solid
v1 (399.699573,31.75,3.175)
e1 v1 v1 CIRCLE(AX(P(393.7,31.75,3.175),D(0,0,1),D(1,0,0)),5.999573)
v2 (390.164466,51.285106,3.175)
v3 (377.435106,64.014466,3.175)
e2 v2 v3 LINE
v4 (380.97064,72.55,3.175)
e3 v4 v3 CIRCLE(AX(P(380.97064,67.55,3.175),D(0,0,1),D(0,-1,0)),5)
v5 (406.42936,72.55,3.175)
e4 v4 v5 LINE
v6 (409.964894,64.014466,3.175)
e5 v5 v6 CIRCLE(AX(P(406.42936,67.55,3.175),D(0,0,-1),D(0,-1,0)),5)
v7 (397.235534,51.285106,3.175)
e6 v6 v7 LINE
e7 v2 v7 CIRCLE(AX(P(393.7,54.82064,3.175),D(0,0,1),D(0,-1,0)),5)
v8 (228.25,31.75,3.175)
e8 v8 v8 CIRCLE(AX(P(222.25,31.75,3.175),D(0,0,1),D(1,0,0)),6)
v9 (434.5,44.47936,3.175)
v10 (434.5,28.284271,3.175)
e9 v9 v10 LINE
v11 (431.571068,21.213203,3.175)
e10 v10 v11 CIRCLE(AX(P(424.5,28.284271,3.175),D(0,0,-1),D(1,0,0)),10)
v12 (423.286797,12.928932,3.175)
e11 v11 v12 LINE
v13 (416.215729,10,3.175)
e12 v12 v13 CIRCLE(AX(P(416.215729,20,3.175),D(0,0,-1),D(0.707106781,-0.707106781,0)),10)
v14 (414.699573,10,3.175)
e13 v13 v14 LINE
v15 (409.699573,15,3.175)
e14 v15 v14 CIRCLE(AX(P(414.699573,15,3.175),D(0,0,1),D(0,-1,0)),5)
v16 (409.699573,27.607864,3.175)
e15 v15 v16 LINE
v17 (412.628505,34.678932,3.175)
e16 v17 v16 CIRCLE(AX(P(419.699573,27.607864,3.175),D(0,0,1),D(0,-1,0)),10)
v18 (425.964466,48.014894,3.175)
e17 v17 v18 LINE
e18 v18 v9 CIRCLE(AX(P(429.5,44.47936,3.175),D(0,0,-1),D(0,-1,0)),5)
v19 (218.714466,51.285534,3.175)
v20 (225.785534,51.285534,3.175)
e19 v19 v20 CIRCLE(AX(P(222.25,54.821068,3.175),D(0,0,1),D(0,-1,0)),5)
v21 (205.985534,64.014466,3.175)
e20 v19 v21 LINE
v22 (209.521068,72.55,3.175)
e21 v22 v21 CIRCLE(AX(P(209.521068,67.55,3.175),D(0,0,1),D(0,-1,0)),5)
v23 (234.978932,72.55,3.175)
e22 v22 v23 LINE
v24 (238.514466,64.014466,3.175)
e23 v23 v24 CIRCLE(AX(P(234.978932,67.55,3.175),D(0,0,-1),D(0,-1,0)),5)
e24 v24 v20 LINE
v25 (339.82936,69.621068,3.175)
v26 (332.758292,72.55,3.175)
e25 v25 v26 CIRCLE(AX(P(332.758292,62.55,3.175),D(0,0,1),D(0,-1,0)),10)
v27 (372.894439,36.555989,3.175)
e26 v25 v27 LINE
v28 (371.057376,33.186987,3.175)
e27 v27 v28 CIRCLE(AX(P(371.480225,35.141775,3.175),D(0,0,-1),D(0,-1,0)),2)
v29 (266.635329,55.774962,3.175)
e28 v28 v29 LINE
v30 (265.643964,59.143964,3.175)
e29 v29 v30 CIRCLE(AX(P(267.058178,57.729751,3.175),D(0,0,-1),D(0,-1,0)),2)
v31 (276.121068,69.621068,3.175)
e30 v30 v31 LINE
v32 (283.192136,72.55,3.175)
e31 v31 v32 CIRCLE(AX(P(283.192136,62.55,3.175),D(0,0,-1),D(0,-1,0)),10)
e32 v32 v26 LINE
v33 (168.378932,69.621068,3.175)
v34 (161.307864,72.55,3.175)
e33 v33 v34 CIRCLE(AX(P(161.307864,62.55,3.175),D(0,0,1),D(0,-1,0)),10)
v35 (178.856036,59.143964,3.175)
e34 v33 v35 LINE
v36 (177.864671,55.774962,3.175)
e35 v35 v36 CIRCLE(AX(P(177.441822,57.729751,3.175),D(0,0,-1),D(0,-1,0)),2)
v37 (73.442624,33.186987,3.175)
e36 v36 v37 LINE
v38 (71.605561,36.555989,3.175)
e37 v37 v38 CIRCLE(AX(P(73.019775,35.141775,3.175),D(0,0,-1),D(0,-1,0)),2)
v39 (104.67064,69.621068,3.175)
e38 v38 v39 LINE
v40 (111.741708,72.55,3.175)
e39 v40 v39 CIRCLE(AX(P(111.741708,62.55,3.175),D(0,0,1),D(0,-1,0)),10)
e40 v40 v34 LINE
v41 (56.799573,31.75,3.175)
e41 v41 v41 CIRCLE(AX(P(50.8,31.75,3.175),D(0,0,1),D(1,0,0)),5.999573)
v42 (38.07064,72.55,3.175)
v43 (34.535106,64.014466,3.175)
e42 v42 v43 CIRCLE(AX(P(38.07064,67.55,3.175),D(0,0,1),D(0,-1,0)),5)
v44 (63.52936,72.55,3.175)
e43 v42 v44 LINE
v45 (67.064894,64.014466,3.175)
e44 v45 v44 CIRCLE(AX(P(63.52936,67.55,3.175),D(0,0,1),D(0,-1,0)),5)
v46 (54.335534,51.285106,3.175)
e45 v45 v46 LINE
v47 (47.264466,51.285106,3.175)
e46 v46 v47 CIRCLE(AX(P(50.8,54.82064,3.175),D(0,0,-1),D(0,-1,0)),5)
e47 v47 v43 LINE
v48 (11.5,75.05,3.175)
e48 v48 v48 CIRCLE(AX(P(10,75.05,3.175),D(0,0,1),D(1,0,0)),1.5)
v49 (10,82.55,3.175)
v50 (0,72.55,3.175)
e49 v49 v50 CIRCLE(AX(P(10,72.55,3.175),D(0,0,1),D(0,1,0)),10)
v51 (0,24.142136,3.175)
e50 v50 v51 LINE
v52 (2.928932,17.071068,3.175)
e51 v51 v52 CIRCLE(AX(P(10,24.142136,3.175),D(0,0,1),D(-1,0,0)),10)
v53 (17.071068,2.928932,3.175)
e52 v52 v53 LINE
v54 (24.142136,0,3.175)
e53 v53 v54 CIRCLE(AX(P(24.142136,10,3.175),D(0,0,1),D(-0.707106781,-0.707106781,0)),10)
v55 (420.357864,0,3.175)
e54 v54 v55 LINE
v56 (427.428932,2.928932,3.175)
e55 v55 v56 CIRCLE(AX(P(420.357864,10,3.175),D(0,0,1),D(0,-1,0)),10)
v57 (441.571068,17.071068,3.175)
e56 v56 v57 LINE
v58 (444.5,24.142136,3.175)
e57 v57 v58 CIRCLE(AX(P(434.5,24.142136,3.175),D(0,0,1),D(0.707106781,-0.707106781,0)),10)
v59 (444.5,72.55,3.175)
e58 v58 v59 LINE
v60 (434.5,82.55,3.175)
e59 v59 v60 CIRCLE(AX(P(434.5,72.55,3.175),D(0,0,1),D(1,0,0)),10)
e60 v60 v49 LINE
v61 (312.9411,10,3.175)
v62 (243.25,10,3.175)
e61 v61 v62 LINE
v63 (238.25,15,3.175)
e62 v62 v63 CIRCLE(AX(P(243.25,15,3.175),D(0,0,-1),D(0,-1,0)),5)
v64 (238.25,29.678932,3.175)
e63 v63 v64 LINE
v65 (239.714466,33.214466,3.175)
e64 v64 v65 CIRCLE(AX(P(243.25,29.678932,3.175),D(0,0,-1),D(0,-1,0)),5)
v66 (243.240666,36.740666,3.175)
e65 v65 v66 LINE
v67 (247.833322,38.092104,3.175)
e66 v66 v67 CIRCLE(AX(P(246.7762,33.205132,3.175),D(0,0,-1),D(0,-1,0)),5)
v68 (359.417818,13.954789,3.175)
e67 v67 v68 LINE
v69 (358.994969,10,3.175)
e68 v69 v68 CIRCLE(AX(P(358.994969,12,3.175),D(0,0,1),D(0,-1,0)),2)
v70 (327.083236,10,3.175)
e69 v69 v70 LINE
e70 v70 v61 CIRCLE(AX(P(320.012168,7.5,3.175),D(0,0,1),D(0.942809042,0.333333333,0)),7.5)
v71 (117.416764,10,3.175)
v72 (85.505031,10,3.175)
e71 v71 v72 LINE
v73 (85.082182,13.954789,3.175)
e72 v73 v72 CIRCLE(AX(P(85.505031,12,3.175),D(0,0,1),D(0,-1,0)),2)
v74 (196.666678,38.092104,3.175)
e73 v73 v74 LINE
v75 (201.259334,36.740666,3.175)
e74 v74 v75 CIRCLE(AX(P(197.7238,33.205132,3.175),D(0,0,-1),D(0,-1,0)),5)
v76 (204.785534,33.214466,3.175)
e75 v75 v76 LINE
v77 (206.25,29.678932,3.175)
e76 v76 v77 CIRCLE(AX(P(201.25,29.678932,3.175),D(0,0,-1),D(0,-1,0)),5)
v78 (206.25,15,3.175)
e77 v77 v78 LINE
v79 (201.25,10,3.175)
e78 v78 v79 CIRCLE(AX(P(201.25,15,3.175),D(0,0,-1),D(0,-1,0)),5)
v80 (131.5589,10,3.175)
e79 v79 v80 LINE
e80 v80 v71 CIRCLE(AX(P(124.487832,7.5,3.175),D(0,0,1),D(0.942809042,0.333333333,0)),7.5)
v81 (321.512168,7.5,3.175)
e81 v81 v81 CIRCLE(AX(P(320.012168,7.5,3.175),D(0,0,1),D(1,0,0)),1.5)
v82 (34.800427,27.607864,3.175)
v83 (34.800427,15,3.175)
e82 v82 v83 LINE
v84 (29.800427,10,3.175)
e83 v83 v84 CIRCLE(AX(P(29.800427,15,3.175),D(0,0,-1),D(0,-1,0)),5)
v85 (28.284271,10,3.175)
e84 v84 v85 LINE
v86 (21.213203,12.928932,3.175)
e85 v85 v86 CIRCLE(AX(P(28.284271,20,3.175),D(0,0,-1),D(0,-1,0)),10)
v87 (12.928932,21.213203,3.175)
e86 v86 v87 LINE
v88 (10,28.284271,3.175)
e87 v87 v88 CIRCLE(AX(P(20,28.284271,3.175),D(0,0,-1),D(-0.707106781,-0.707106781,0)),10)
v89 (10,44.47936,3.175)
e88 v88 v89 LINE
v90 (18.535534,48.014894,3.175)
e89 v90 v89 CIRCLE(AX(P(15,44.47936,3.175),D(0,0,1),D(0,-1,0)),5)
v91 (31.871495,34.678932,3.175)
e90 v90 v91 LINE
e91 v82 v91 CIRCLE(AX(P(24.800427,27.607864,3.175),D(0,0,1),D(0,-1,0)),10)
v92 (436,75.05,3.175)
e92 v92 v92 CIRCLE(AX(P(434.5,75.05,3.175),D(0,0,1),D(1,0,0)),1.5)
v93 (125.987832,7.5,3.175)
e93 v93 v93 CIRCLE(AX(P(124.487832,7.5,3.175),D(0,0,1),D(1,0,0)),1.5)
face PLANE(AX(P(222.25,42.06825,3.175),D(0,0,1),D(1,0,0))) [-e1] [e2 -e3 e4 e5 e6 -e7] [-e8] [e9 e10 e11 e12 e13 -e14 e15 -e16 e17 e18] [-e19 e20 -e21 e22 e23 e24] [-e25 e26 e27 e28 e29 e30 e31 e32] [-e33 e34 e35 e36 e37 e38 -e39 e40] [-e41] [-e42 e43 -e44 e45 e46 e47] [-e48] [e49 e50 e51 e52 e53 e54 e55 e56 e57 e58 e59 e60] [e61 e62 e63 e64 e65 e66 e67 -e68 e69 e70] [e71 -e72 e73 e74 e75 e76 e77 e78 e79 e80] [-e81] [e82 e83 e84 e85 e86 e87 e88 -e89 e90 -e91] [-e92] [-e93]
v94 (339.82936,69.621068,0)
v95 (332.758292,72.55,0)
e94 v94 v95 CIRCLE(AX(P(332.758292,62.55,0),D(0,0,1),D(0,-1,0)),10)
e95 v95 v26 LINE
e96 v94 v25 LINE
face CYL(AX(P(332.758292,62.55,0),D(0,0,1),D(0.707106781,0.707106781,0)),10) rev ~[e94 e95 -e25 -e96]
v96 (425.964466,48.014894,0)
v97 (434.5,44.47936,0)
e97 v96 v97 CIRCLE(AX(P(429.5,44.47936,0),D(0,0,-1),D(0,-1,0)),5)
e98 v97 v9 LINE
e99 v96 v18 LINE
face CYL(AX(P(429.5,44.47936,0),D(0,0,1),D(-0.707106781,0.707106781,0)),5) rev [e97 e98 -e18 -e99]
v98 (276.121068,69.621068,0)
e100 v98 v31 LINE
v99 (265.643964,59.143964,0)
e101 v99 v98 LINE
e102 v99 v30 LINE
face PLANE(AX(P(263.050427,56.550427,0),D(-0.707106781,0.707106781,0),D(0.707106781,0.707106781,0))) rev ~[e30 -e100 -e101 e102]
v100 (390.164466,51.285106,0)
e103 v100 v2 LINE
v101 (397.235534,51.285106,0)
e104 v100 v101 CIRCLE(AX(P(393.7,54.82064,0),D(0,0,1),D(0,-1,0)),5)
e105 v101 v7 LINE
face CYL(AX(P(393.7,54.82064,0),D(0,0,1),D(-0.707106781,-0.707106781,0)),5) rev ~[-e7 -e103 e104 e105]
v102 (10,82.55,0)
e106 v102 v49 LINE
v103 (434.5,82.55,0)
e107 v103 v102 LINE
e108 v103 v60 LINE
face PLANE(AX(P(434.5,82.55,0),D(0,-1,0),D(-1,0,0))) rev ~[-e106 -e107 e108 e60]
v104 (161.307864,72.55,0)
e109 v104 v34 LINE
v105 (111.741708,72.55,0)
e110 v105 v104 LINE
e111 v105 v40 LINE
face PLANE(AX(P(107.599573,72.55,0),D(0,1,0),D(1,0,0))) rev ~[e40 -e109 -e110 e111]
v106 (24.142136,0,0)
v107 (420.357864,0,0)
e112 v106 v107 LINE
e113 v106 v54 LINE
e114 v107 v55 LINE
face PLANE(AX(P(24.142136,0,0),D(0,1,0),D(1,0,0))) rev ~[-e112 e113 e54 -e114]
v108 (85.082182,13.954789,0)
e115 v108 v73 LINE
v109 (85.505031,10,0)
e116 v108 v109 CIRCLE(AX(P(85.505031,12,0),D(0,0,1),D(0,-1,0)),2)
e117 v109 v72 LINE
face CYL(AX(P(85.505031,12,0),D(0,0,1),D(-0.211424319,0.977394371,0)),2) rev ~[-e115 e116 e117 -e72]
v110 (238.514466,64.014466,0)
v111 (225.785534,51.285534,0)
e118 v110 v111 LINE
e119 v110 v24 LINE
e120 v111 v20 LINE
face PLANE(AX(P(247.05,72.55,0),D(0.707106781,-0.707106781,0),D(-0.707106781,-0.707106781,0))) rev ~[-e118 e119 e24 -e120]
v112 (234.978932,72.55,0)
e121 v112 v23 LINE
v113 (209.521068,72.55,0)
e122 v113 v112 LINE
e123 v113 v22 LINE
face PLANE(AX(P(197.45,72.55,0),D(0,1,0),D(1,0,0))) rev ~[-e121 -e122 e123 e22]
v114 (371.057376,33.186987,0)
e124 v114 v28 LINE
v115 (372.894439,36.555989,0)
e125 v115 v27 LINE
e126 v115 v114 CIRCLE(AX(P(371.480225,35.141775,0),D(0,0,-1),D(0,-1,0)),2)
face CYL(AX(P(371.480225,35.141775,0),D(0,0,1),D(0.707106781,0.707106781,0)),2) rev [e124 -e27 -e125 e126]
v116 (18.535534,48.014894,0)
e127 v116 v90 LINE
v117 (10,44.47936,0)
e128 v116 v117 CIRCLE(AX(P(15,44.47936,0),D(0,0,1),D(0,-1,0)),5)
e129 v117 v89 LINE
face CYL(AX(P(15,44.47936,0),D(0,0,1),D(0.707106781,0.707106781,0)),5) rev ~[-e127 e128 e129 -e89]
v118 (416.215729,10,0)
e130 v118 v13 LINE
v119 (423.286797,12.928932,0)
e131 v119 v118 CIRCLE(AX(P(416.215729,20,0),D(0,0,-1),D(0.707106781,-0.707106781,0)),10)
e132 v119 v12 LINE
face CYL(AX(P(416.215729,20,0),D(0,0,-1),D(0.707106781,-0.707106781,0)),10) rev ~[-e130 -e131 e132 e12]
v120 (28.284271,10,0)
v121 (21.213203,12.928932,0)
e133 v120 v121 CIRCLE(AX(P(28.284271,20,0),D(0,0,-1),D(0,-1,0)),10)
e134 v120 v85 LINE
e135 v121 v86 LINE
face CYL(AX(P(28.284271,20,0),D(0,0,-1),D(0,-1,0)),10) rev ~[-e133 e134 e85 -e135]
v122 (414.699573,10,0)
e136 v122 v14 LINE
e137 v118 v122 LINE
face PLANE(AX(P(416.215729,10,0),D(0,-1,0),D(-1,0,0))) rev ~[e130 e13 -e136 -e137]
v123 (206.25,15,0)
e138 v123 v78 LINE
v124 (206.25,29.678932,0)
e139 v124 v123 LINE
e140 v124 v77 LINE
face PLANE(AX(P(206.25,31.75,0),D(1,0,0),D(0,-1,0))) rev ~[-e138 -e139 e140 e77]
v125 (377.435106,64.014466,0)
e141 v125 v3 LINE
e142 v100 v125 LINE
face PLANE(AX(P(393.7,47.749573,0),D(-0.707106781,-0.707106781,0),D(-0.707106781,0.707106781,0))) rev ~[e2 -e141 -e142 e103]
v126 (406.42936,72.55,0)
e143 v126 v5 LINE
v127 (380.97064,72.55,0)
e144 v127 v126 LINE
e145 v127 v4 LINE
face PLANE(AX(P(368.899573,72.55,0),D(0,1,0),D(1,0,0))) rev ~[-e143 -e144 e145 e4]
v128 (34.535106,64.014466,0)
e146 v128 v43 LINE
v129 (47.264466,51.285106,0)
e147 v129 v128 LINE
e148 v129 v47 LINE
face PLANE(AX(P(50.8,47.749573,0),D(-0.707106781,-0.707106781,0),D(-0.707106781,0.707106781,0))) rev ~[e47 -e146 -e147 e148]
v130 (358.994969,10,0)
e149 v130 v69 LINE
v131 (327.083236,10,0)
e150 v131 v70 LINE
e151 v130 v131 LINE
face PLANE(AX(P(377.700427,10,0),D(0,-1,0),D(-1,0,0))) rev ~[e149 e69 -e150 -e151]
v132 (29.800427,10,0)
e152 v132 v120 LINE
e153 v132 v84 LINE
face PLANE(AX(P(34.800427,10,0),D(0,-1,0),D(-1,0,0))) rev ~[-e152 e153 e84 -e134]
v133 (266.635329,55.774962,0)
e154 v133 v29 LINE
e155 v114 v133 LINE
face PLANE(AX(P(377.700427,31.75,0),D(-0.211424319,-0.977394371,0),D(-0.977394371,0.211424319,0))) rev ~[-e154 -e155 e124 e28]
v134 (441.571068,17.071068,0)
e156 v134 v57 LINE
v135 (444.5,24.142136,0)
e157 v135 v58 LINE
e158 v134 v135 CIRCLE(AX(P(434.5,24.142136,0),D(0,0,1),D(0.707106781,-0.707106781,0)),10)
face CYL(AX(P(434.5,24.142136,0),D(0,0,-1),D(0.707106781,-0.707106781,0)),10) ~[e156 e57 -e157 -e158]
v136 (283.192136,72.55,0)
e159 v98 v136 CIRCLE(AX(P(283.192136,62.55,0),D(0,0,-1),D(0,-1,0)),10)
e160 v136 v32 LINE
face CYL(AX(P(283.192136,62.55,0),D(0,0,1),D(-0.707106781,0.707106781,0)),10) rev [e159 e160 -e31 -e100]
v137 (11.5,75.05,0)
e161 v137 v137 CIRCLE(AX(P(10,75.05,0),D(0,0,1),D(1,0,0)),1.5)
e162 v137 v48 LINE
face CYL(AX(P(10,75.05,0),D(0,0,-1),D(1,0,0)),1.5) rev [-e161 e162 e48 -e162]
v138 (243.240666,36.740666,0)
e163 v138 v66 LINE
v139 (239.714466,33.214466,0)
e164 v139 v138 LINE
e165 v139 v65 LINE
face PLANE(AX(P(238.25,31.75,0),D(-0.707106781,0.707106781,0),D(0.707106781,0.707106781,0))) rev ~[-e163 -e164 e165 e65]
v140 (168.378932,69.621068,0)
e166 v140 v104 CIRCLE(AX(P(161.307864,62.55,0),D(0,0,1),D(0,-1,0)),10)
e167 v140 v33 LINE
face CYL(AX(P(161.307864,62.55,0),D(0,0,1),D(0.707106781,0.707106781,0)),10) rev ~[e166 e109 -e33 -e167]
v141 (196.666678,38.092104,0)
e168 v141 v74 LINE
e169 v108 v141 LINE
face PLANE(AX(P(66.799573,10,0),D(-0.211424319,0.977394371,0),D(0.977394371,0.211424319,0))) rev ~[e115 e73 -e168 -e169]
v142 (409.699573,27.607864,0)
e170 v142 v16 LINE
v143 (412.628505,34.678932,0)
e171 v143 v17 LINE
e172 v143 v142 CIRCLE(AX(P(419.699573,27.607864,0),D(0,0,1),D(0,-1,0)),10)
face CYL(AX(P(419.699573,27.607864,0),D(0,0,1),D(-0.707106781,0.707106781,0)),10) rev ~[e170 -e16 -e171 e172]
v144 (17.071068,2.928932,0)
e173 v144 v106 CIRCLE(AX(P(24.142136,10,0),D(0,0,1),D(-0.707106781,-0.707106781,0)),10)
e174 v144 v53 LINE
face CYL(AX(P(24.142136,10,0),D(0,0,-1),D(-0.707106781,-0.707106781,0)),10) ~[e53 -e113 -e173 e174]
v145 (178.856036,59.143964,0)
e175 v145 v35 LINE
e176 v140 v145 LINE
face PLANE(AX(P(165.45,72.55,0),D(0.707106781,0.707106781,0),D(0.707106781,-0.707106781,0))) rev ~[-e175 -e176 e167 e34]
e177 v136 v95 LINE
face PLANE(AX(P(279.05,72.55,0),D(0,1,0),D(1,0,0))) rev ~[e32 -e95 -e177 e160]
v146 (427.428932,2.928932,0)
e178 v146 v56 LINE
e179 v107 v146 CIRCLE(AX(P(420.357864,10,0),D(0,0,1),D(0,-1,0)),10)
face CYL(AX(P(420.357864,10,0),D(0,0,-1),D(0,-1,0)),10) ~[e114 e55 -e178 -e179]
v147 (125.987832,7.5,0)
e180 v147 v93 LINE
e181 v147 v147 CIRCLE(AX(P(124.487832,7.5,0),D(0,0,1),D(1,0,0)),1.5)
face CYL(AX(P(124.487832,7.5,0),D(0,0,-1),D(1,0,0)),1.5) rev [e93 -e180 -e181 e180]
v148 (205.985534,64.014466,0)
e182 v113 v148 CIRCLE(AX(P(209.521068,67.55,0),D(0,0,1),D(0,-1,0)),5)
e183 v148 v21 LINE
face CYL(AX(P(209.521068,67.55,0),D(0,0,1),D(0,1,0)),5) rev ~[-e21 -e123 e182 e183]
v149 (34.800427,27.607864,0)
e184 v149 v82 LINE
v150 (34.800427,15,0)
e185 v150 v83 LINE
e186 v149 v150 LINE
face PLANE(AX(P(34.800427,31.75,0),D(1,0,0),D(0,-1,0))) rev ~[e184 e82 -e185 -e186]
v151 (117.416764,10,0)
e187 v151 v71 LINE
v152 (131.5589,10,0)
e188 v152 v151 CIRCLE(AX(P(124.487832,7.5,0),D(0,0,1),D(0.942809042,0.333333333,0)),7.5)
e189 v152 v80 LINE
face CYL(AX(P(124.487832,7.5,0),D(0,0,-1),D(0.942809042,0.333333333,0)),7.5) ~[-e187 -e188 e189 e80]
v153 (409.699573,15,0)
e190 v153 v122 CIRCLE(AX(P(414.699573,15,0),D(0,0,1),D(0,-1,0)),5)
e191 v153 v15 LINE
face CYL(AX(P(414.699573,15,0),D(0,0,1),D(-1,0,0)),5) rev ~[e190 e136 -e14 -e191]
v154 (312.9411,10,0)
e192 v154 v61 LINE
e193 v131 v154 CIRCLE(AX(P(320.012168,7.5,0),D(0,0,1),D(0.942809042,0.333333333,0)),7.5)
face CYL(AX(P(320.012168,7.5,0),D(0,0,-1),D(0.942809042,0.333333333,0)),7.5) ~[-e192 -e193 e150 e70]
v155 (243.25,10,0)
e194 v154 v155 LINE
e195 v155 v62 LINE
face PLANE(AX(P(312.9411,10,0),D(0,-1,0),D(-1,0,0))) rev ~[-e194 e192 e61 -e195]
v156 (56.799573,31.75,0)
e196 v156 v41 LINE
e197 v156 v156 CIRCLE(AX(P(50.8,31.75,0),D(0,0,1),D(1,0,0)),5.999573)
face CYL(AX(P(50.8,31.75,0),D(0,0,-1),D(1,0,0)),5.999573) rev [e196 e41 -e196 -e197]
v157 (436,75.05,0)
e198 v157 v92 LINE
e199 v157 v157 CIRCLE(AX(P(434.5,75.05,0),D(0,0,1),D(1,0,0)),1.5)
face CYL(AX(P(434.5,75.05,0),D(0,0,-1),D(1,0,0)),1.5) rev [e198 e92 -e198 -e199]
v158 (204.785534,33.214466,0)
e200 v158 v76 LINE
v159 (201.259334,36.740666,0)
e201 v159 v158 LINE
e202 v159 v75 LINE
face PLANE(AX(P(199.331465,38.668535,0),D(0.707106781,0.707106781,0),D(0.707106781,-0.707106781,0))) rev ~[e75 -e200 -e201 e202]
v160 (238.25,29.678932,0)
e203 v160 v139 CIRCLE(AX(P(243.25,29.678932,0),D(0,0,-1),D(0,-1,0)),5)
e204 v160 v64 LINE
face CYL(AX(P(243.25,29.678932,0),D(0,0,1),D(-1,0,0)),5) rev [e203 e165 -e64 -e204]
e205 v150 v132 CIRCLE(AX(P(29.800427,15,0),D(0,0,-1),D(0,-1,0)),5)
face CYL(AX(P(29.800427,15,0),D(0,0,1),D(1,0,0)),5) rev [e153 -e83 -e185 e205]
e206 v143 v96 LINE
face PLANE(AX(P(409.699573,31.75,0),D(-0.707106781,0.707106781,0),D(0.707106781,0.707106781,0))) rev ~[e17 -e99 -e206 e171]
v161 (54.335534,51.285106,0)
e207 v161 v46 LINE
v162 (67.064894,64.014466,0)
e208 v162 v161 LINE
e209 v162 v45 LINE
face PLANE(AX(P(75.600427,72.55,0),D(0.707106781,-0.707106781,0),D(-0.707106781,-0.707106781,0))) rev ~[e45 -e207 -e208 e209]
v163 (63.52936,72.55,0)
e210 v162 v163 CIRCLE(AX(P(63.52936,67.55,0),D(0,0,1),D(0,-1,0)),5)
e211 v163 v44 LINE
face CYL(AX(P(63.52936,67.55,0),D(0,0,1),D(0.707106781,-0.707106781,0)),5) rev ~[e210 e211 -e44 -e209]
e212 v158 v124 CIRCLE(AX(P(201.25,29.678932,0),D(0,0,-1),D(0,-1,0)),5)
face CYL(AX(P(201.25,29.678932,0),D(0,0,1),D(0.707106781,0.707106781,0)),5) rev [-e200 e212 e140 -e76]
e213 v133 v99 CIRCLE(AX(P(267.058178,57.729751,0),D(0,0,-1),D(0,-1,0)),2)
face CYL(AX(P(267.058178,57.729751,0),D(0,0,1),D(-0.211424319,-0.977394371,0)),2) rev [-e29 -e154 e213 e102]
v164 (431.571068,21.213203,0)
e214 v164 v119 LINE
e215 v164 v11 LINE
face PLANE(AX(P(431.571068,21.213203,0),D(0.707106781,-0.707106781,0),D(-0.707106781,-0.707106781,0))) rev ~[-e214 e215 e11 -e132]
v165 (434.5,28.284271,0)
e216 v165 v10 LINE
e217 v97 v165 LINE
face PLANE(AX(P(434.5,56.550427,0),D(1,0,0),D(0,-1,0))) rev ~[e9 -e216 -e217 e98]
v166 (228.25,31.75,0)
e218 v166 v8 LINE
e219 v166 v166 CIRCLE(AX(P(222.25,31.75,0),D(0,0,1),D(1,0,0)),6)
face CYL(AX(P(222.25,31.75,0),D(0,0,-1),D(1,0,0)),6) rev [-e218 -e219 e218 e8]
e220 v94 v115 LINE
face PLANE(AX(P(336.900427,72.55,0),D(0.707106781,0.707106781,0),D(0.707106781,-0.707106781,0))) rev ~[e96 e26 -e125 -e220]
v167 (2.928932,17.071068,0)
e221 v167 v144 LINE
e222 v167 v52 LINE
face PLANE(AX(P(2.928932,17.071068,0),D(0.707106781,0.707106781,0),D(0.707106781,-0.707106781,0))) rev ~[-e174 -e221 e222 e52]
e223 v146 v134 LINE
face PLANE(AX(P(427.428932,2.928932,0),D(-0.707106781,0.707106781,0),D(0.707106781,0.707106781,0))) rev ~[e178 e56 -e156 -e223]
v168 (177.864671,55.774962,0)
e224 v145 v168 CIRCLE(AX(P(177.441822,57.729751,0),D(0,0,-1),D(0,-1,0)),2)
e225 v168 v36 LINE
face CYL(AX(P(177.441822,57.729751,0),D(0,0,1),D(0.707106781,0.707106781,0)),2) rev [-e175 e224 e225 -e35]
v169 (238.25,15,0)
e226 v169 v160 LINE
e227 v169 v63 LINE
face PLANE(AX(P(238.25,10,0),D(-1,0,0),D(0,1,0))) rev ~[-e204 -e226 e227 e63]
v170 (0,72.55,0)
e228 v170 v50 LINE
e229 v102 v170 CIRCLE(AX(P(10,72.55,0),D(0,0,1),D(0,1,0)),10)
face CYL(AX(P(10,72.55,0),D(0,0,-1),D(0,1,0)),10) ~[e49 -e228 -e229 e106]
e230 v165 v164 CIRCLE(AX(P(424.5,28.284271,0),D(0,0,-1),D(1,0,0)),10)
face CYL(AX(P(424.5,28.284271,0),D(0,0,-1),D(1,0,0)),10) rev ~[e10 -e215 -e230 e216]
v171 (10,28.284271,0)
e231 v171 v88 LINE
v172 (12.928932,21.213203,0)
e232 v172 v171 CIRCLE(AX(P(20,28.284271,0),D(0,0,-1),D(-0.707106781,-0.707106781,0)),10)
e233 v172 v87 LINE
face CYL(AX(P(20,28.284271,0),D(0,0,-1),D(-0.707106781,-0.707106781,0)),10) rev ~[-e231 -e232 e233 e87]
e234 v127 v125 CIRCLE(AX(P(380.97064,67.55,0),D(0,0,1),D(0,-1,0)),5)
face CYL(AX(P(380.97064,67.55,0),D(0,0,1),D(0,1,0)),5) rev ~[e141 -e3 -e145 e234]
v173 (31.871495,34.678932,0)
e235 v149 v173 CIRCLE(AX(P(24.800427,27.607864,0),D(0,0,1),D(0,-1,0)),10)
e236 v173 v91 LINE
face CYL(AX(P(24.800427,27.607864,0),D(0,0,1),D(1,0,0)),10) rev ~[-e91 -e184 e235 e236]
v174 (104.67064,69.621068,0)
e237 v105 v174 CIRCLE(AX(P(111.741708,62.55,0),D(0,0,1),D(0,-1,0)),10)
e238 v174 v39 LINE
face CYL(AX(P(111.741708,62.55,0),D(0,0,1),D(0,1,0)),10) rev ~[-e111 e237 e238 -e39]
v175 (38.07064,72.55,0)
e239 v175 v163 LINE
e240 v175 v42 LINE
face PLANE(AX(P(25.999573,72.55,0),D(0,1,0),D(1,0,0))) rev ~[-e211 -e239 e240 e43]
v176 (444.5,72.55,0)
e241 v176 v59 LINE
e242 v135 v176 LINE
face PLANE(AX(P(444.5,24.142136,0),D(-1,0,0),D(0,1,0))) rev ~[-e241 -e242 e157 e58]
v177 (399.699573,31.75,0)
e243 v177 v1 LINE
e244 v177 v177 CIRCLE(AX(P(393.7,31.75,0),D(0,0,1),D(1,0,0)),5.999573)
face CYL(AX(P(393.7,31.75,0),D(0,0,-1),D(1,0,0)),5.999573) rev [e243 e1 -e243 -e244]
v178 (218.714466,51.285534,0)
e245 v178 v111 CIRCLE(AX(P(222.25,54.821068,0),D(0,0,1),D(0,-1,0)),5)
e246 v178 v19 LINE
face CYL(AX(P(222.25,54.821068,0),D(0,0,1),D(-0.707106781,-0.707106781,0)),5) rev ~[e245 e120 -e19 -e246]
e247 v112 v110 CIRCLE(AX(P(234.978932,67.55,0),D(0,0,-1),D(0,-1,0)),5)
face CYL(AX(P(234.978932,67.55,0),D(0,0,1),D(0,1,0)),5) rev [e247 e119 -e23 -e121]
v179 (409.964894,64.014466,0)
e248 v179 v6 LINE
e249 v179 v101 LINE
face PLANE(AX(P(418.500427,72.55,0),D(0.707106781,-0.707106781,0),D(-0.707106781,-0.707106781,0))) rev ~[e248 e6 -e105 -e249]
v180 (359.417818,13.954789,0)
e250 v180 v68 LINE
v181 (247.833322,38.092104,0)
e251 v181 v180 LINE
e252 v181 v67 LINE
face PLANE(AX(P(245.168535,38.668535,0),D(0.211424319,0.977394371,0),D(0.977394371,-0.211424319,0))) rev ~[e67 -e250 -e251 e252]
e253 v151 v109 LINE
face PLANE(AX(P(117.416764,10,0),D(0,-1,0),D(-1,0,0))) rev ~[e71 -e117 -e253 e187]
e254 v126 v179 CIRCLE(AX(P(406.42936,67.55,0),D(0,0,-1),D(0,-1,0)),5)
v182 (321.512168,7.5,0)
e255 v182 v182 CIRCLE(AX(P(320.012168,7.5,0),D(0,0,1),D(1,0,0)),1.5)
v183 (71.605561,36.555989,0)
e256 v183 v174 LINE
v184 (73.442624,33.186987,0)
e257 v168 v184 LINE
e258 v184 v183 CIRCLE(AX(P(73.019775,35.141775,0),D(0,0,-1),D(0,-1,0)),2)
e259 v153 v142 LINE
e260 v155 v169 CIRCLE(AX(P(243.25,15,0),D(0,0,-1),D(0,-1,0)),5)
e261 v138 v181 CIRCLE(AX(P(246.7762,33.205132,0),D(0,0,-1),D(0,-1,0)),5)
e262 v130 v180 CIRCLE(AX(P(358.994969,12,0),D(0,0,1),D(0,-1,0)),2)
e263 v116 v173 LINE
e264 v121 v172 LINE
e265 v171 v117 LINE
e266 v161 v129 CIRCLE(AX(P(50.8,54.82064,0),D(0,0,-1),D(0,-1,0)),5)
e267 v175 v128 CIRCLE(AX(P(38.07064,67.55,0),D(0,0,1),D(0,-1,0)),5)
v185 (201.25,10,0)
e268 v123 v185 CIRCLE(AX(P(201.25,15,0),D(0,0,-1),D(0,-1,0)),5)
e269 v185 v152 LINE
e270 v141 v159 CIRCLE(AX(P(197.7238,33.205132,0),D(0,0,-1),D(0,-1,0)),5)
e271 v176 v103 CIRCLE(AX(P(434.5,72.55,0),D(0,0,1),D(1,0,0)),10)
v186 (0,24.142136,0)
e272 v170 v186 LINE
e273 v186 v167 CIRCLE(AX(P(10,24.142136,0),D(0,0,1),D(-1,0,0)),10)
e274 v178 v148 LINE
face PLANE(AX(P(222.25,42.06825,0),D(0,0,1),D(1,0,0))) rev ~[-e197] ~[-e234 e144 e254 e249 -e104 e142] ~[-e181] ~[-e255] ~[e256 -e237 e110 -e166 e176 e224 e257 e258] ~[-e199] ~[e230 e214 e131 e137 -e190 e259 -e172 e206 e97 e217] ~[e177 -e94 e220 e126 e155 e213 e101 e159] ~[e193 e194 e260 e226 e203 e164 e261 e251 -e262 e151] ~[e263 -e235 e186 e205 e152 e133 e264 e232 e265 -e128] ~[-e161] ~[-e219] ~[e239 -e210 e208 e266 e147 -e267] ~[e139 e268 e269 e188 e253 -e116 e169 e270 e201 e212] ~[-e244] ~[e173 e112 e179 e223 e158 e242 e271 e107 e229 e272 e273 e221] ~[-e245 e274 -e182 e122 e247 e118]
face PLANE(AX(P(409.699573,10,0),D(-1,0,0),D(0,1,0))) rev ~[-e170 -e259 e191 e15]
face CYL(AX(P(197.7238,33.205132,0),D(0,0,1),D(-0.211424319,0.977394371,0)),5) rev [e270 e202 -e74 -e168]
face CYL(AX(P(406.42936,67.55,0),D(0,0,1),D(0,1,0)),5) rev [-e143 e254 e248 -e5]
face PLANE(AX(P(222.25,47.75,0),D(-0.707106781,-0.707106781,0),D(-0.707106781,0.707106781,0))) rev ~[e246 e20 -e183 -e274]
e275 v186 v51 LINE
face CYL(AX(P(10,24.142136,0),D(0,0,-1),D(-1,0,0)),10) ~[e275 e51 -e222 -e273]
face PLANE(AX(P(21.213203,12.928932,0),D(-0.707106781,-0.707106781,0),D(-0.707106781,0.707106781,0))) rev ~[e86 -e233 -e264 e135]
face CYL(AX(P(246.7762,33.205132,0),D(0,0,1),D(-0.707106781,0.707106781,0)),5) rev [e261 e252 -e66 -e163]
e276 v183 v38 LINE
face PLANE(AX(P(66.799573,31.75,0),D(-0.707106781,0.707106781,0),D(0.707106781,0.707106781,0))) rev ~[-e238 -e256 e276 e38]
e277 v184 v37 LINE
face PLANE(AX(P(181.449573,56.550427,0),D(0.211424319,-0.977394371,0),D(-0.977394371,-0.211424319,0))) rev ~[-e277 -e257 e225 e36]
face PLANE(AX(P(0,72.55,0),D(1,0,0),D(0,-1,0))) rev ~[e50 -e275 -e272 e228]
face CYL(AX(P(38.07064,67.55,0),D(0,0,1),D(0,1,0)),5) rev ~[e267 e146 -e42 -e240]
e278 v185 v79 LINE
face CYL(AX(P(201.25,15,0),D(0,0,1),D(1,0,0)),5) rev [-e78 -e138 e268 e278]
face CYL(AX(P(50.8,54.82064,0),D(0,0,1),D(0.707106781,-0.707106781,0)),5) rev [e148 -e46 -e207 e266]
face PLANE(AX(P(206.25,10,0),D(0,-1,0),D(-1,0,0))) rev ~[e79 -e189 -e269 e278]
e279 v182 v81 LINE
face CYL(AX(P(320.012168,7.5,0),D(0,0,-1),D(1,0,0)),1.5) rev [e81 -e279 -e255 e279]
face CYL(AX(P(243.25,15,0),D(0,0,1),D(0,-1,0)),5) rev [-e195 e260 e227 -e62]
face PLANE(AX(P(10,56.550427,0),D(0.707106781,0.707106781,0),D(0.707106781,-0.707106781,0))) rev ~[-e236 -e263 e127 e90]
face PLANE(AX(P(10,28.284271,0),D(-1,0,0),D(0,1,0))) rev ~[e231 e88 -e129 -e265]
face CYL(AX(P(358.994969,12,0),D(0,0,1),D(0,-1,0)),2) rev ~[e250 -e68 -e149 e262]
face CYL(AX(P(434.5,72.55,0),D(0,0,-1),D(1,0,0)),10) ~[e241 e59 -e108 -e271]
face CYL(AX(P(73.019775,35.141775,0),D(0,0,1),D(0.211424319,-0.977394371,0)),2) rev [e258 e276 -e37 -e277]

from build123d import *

# Parameters (mm, degrees)
SKETCH1_R           = 1.5
SKETCH1_R_2         = 5.999572562
SKETCH1_R_3         = 6
BOSS_EXTRUDE1_DEPTH = 3.175
FILLET1_R           = 10
FILLET2_R           = 5
FILLET3_R           = 5
FILLET4_R           = 5
FILLET5_R           = 2


with BuildPart() as part:
    # Sketch1 → Boss-Extrude1 (new body)
    with BuildSketch(Plane.XY):
        with BuildLine():
            ThreePointArc((0, 24.142135624), (0.761204675, 20.3153013), (2.928932188, 17.071067812))
            Line((2.928932188, 17.071067812), (17.071067812, 2.928932188))
            ThreePointArc((17.071067812, 2.928932188), (20.3153013, 0.761204675), (24.142135624, 0))
            Line((24.142135624, 0), (420.357864376, 0))
            ThreePointArc((420.357864376, 0), (424.1846987, 0.761204675), (427.428932188, 2.928932188))
            Line((427.428932188, 2.928932188), (441.571067812, 17.071067812))
            ThreePointArc((441.571067812, 17.071067812), (443.738795325, 20.3153013), (444.5, 24.142135624))
            Line((444.5, 24.142135624), (444.5, 72.55))
            ThreePointArc((444.5, 72.55), (441.571067812, 79.621067812), (434.5, 82.55))
            Line((434.5, 82.55), (10, 82.55))
            ThreePointArc((10, 82.55), (2.928932188, 79.621067812), (0, 72.55))
            Line((0, 72.55), (0, 24.142135624))
        make_face()
        with Locations((124.487832174, 7.5)):
            Circle(SKETCH1_R, mode=Mode.SUBTRACT)
        with BuildLine():
            ThreePointArc((12.928932188, 21.213203436), (10.761204675, 24.457436924), (10, 28.284271247))
            Line((10, 28.284271247), (10, 56.550427438))
            Line((10, 56.550427438), (34.800427438, 31.75))
            Line((34.800427438, 31.75), (34.800427438, 10))
            Line((34.800427438, 10), (28.284271247, 10))
            ThreePointArc((28.284271247, 10), (24.457436924, 10.761204675), (21.213203436, 12.928932188))
            Line((21.213203436, 12.928932188), (12.928932188, 21.213203436))
        make_face(mode=Mode.SUBTRACT)
        with Locations((50.8, 31.75)):
            Circle(SKETCH1_R_2, mode=Mode.SUBTRACT)
        with BuildLine():
            Line((199.331464685, 38.668535315), (206.25, 31.75))
            Line((206.25, 31.75), (206.25, 10))
            Line((206.25, 10), (131.558899986, 10))
            ThreePointArc((131.558899986, 10), (124.487832174, 15), (117.416764362, 10))
            Line((117.416764362, 10), (66.799572562, 10))
            Line((66.799572562, 10), (199.331464685, 38.668535315))
        make_face(mode=Mode.SUBTRACT)
        with Locations((320.012167826, 7.5)):
            Circle(SKETCH1_R, mode=Mode.SUBTRACT)
        with BuildLine():
            Line((238.25, 10), (238.25, 31.75))
            Line((238.25, 31.75), (245.168535315, 38.668535315))
            Line((245.168535315, 38.668535315), (377.700427438, 10))
            Line((377.700427438, 10), (327.083235638, 10))
            ThreePointArc((327.083235638, 10), (320.012167826, 15), (312.941100014, 10))
            Line((312.941100014, 10), (238.25, 10))
        make_face(mode=Mode.SUBTRACT)
        with Locations((222.25, 31.75)):
            Circle(SKETCH1_R_3, mode=Mode.SUBTRACT)
        with Locations((393.7, 31.75)):
            Circle(SKETCH1_R_2, mode=Mode.SUBTRACT)
        with BuildLine():
            Line((434.5, 56.550427438), (434.5, 28.284271247))
            ThreePointArc((434.5, 28.284271247), (433.738795325, 24.457436924), (431.571067812, 21.213203436))
            Line((431.571067812, 21.213203436), (423.286796564, 12.928932188))
            ThreePointArc((423.286796564, 12.928932188), (420.042563076, 10.761204675), (416.215728753, 10))
            Line((416.215728753, 10), (409.699572562, 10))
            Line((409.699572562, 10), (409.699572562, 31.75))
            Line((409.699572562, 31.75), (434.5, 56.550427438))
        make_face(mode=Mode.SUBTRACT)
        Polygon((50.8, 47.749572562), (25.999572562, 72.55), (75.600427438, 72.55), align=None, mode=Mode.SUBTRACT)
        Polygon((181.449572562, 56.550427438), (66.799572562, 31.75), (107.599572562, 72.55), (165.45, 72.55), align=None, mode=Mode.SUBTRACT)
        Polygon((247.05, 72.55), (222.25, 47.75), (197.45, 72.55), align=None, mode=Mode.SUBTRACT)
        with Locations((10, 75.05)):
            Circle(SKETCH1_R, mode=Mode.SUBTRACT)
        Polygon((263.050427438, 56.550427438), (279.05, 72.55), (336.900427438, 72.55), (377.700427438, 31.75), align=None, mode=Mode.SUBTRACT)
        Polygon((418.500427438, 72.55), (393.7, 47.749572562), (368.899572562, 72.55), align=None, mode=Mode.SUBTRACT)
        with Locations((434.5, 75.05)):
            Circle(SKETCH1_R, mode=Mode.SUBTRACT)
    extrude(amount=BOSS_EXTRUDE1_DEPTH)

    # Fillet1
    fillet1_edges = [part.edges().sort_by_distance(p)[0] for p in [
        (34.800427438, 31.75, 1.5875),
        (409.699572562, 31.75, 1.5875),
        (336.900427438, 72.55, 1.5875),
        (279.05, 72.55, 1.5875),
        (165.45, 72.55, 1.5875),
        (107.599572562, 72.55, 1.5875),
    ]]
    fillet(fillet1_edges, radius=FILLET1_R)

    # Fillet2
    fillet2_edges = [part.edges().sort_by_distance(p)[0] for p in [
        (245.168535315, 38.668535315, 1.5875),
        (238.25, 31.75, 1.5875),
        (238.25, 10, 1.5875),
        (34.800427438, 10, 1.5875),
        (409.699572562, 10, 1.5875),
        (206.25, 10, 1.5875),
        (206.25, 31.75, 1.5875),
        (199.331464685, 38.668535315, 1.5875),
    ]]
    fillet(fillet2_edges, radius=FILLET2_R)

    # Fillet3
    fillet3_edges = [part.edges().sort_by_distance(p)[0] for p in [
        (222.25, 47.75, 1.5875),
        (247.05, 72.55, 1.5875),
        (197.45, 72.55, 1.5875),
    ]]
    fillet(fillet3_edges, radius=FILLET3_R)

    # Fillet4
    fillet4_edges = [part.edges().sort_by_distance(p)[0] for p in [
        (10, 56.550427438, 1.5875),
        (434.5, 56.550427438, 1.5875),
        (75.600427438, 72.55, 1.5875),
        (25.999572562, 72.55, 1.5875),
        (50.8, 47.749572562, 1.5875),
        (393.7, 47.749572562, 1.5875),
        (418.500427438, 72.55, 1.5875),
        (368.899572562, 72.55, 1.5875),
    ]]
    fillet(fillet4_edges, radius=FILLET4_R)

    # Fillet5
    fillet5_edges = [part.edges().sort_by_distance(p)[0] for p in [
        (377.700427438, 10, 1.5875),
        (377.700427438, 31.75, 1.5875),
        (263.050427438, 56.550427438, 1.5875),
        (66.799572562, 31.75, 1.5875),
        (181.449572562, 56.550427438, 1.5875),
        (66.799572562, 10, 1.5875),
    ]]
    fillet(fillet5_edges, radius=FILLET5_R)


solid = part.part
